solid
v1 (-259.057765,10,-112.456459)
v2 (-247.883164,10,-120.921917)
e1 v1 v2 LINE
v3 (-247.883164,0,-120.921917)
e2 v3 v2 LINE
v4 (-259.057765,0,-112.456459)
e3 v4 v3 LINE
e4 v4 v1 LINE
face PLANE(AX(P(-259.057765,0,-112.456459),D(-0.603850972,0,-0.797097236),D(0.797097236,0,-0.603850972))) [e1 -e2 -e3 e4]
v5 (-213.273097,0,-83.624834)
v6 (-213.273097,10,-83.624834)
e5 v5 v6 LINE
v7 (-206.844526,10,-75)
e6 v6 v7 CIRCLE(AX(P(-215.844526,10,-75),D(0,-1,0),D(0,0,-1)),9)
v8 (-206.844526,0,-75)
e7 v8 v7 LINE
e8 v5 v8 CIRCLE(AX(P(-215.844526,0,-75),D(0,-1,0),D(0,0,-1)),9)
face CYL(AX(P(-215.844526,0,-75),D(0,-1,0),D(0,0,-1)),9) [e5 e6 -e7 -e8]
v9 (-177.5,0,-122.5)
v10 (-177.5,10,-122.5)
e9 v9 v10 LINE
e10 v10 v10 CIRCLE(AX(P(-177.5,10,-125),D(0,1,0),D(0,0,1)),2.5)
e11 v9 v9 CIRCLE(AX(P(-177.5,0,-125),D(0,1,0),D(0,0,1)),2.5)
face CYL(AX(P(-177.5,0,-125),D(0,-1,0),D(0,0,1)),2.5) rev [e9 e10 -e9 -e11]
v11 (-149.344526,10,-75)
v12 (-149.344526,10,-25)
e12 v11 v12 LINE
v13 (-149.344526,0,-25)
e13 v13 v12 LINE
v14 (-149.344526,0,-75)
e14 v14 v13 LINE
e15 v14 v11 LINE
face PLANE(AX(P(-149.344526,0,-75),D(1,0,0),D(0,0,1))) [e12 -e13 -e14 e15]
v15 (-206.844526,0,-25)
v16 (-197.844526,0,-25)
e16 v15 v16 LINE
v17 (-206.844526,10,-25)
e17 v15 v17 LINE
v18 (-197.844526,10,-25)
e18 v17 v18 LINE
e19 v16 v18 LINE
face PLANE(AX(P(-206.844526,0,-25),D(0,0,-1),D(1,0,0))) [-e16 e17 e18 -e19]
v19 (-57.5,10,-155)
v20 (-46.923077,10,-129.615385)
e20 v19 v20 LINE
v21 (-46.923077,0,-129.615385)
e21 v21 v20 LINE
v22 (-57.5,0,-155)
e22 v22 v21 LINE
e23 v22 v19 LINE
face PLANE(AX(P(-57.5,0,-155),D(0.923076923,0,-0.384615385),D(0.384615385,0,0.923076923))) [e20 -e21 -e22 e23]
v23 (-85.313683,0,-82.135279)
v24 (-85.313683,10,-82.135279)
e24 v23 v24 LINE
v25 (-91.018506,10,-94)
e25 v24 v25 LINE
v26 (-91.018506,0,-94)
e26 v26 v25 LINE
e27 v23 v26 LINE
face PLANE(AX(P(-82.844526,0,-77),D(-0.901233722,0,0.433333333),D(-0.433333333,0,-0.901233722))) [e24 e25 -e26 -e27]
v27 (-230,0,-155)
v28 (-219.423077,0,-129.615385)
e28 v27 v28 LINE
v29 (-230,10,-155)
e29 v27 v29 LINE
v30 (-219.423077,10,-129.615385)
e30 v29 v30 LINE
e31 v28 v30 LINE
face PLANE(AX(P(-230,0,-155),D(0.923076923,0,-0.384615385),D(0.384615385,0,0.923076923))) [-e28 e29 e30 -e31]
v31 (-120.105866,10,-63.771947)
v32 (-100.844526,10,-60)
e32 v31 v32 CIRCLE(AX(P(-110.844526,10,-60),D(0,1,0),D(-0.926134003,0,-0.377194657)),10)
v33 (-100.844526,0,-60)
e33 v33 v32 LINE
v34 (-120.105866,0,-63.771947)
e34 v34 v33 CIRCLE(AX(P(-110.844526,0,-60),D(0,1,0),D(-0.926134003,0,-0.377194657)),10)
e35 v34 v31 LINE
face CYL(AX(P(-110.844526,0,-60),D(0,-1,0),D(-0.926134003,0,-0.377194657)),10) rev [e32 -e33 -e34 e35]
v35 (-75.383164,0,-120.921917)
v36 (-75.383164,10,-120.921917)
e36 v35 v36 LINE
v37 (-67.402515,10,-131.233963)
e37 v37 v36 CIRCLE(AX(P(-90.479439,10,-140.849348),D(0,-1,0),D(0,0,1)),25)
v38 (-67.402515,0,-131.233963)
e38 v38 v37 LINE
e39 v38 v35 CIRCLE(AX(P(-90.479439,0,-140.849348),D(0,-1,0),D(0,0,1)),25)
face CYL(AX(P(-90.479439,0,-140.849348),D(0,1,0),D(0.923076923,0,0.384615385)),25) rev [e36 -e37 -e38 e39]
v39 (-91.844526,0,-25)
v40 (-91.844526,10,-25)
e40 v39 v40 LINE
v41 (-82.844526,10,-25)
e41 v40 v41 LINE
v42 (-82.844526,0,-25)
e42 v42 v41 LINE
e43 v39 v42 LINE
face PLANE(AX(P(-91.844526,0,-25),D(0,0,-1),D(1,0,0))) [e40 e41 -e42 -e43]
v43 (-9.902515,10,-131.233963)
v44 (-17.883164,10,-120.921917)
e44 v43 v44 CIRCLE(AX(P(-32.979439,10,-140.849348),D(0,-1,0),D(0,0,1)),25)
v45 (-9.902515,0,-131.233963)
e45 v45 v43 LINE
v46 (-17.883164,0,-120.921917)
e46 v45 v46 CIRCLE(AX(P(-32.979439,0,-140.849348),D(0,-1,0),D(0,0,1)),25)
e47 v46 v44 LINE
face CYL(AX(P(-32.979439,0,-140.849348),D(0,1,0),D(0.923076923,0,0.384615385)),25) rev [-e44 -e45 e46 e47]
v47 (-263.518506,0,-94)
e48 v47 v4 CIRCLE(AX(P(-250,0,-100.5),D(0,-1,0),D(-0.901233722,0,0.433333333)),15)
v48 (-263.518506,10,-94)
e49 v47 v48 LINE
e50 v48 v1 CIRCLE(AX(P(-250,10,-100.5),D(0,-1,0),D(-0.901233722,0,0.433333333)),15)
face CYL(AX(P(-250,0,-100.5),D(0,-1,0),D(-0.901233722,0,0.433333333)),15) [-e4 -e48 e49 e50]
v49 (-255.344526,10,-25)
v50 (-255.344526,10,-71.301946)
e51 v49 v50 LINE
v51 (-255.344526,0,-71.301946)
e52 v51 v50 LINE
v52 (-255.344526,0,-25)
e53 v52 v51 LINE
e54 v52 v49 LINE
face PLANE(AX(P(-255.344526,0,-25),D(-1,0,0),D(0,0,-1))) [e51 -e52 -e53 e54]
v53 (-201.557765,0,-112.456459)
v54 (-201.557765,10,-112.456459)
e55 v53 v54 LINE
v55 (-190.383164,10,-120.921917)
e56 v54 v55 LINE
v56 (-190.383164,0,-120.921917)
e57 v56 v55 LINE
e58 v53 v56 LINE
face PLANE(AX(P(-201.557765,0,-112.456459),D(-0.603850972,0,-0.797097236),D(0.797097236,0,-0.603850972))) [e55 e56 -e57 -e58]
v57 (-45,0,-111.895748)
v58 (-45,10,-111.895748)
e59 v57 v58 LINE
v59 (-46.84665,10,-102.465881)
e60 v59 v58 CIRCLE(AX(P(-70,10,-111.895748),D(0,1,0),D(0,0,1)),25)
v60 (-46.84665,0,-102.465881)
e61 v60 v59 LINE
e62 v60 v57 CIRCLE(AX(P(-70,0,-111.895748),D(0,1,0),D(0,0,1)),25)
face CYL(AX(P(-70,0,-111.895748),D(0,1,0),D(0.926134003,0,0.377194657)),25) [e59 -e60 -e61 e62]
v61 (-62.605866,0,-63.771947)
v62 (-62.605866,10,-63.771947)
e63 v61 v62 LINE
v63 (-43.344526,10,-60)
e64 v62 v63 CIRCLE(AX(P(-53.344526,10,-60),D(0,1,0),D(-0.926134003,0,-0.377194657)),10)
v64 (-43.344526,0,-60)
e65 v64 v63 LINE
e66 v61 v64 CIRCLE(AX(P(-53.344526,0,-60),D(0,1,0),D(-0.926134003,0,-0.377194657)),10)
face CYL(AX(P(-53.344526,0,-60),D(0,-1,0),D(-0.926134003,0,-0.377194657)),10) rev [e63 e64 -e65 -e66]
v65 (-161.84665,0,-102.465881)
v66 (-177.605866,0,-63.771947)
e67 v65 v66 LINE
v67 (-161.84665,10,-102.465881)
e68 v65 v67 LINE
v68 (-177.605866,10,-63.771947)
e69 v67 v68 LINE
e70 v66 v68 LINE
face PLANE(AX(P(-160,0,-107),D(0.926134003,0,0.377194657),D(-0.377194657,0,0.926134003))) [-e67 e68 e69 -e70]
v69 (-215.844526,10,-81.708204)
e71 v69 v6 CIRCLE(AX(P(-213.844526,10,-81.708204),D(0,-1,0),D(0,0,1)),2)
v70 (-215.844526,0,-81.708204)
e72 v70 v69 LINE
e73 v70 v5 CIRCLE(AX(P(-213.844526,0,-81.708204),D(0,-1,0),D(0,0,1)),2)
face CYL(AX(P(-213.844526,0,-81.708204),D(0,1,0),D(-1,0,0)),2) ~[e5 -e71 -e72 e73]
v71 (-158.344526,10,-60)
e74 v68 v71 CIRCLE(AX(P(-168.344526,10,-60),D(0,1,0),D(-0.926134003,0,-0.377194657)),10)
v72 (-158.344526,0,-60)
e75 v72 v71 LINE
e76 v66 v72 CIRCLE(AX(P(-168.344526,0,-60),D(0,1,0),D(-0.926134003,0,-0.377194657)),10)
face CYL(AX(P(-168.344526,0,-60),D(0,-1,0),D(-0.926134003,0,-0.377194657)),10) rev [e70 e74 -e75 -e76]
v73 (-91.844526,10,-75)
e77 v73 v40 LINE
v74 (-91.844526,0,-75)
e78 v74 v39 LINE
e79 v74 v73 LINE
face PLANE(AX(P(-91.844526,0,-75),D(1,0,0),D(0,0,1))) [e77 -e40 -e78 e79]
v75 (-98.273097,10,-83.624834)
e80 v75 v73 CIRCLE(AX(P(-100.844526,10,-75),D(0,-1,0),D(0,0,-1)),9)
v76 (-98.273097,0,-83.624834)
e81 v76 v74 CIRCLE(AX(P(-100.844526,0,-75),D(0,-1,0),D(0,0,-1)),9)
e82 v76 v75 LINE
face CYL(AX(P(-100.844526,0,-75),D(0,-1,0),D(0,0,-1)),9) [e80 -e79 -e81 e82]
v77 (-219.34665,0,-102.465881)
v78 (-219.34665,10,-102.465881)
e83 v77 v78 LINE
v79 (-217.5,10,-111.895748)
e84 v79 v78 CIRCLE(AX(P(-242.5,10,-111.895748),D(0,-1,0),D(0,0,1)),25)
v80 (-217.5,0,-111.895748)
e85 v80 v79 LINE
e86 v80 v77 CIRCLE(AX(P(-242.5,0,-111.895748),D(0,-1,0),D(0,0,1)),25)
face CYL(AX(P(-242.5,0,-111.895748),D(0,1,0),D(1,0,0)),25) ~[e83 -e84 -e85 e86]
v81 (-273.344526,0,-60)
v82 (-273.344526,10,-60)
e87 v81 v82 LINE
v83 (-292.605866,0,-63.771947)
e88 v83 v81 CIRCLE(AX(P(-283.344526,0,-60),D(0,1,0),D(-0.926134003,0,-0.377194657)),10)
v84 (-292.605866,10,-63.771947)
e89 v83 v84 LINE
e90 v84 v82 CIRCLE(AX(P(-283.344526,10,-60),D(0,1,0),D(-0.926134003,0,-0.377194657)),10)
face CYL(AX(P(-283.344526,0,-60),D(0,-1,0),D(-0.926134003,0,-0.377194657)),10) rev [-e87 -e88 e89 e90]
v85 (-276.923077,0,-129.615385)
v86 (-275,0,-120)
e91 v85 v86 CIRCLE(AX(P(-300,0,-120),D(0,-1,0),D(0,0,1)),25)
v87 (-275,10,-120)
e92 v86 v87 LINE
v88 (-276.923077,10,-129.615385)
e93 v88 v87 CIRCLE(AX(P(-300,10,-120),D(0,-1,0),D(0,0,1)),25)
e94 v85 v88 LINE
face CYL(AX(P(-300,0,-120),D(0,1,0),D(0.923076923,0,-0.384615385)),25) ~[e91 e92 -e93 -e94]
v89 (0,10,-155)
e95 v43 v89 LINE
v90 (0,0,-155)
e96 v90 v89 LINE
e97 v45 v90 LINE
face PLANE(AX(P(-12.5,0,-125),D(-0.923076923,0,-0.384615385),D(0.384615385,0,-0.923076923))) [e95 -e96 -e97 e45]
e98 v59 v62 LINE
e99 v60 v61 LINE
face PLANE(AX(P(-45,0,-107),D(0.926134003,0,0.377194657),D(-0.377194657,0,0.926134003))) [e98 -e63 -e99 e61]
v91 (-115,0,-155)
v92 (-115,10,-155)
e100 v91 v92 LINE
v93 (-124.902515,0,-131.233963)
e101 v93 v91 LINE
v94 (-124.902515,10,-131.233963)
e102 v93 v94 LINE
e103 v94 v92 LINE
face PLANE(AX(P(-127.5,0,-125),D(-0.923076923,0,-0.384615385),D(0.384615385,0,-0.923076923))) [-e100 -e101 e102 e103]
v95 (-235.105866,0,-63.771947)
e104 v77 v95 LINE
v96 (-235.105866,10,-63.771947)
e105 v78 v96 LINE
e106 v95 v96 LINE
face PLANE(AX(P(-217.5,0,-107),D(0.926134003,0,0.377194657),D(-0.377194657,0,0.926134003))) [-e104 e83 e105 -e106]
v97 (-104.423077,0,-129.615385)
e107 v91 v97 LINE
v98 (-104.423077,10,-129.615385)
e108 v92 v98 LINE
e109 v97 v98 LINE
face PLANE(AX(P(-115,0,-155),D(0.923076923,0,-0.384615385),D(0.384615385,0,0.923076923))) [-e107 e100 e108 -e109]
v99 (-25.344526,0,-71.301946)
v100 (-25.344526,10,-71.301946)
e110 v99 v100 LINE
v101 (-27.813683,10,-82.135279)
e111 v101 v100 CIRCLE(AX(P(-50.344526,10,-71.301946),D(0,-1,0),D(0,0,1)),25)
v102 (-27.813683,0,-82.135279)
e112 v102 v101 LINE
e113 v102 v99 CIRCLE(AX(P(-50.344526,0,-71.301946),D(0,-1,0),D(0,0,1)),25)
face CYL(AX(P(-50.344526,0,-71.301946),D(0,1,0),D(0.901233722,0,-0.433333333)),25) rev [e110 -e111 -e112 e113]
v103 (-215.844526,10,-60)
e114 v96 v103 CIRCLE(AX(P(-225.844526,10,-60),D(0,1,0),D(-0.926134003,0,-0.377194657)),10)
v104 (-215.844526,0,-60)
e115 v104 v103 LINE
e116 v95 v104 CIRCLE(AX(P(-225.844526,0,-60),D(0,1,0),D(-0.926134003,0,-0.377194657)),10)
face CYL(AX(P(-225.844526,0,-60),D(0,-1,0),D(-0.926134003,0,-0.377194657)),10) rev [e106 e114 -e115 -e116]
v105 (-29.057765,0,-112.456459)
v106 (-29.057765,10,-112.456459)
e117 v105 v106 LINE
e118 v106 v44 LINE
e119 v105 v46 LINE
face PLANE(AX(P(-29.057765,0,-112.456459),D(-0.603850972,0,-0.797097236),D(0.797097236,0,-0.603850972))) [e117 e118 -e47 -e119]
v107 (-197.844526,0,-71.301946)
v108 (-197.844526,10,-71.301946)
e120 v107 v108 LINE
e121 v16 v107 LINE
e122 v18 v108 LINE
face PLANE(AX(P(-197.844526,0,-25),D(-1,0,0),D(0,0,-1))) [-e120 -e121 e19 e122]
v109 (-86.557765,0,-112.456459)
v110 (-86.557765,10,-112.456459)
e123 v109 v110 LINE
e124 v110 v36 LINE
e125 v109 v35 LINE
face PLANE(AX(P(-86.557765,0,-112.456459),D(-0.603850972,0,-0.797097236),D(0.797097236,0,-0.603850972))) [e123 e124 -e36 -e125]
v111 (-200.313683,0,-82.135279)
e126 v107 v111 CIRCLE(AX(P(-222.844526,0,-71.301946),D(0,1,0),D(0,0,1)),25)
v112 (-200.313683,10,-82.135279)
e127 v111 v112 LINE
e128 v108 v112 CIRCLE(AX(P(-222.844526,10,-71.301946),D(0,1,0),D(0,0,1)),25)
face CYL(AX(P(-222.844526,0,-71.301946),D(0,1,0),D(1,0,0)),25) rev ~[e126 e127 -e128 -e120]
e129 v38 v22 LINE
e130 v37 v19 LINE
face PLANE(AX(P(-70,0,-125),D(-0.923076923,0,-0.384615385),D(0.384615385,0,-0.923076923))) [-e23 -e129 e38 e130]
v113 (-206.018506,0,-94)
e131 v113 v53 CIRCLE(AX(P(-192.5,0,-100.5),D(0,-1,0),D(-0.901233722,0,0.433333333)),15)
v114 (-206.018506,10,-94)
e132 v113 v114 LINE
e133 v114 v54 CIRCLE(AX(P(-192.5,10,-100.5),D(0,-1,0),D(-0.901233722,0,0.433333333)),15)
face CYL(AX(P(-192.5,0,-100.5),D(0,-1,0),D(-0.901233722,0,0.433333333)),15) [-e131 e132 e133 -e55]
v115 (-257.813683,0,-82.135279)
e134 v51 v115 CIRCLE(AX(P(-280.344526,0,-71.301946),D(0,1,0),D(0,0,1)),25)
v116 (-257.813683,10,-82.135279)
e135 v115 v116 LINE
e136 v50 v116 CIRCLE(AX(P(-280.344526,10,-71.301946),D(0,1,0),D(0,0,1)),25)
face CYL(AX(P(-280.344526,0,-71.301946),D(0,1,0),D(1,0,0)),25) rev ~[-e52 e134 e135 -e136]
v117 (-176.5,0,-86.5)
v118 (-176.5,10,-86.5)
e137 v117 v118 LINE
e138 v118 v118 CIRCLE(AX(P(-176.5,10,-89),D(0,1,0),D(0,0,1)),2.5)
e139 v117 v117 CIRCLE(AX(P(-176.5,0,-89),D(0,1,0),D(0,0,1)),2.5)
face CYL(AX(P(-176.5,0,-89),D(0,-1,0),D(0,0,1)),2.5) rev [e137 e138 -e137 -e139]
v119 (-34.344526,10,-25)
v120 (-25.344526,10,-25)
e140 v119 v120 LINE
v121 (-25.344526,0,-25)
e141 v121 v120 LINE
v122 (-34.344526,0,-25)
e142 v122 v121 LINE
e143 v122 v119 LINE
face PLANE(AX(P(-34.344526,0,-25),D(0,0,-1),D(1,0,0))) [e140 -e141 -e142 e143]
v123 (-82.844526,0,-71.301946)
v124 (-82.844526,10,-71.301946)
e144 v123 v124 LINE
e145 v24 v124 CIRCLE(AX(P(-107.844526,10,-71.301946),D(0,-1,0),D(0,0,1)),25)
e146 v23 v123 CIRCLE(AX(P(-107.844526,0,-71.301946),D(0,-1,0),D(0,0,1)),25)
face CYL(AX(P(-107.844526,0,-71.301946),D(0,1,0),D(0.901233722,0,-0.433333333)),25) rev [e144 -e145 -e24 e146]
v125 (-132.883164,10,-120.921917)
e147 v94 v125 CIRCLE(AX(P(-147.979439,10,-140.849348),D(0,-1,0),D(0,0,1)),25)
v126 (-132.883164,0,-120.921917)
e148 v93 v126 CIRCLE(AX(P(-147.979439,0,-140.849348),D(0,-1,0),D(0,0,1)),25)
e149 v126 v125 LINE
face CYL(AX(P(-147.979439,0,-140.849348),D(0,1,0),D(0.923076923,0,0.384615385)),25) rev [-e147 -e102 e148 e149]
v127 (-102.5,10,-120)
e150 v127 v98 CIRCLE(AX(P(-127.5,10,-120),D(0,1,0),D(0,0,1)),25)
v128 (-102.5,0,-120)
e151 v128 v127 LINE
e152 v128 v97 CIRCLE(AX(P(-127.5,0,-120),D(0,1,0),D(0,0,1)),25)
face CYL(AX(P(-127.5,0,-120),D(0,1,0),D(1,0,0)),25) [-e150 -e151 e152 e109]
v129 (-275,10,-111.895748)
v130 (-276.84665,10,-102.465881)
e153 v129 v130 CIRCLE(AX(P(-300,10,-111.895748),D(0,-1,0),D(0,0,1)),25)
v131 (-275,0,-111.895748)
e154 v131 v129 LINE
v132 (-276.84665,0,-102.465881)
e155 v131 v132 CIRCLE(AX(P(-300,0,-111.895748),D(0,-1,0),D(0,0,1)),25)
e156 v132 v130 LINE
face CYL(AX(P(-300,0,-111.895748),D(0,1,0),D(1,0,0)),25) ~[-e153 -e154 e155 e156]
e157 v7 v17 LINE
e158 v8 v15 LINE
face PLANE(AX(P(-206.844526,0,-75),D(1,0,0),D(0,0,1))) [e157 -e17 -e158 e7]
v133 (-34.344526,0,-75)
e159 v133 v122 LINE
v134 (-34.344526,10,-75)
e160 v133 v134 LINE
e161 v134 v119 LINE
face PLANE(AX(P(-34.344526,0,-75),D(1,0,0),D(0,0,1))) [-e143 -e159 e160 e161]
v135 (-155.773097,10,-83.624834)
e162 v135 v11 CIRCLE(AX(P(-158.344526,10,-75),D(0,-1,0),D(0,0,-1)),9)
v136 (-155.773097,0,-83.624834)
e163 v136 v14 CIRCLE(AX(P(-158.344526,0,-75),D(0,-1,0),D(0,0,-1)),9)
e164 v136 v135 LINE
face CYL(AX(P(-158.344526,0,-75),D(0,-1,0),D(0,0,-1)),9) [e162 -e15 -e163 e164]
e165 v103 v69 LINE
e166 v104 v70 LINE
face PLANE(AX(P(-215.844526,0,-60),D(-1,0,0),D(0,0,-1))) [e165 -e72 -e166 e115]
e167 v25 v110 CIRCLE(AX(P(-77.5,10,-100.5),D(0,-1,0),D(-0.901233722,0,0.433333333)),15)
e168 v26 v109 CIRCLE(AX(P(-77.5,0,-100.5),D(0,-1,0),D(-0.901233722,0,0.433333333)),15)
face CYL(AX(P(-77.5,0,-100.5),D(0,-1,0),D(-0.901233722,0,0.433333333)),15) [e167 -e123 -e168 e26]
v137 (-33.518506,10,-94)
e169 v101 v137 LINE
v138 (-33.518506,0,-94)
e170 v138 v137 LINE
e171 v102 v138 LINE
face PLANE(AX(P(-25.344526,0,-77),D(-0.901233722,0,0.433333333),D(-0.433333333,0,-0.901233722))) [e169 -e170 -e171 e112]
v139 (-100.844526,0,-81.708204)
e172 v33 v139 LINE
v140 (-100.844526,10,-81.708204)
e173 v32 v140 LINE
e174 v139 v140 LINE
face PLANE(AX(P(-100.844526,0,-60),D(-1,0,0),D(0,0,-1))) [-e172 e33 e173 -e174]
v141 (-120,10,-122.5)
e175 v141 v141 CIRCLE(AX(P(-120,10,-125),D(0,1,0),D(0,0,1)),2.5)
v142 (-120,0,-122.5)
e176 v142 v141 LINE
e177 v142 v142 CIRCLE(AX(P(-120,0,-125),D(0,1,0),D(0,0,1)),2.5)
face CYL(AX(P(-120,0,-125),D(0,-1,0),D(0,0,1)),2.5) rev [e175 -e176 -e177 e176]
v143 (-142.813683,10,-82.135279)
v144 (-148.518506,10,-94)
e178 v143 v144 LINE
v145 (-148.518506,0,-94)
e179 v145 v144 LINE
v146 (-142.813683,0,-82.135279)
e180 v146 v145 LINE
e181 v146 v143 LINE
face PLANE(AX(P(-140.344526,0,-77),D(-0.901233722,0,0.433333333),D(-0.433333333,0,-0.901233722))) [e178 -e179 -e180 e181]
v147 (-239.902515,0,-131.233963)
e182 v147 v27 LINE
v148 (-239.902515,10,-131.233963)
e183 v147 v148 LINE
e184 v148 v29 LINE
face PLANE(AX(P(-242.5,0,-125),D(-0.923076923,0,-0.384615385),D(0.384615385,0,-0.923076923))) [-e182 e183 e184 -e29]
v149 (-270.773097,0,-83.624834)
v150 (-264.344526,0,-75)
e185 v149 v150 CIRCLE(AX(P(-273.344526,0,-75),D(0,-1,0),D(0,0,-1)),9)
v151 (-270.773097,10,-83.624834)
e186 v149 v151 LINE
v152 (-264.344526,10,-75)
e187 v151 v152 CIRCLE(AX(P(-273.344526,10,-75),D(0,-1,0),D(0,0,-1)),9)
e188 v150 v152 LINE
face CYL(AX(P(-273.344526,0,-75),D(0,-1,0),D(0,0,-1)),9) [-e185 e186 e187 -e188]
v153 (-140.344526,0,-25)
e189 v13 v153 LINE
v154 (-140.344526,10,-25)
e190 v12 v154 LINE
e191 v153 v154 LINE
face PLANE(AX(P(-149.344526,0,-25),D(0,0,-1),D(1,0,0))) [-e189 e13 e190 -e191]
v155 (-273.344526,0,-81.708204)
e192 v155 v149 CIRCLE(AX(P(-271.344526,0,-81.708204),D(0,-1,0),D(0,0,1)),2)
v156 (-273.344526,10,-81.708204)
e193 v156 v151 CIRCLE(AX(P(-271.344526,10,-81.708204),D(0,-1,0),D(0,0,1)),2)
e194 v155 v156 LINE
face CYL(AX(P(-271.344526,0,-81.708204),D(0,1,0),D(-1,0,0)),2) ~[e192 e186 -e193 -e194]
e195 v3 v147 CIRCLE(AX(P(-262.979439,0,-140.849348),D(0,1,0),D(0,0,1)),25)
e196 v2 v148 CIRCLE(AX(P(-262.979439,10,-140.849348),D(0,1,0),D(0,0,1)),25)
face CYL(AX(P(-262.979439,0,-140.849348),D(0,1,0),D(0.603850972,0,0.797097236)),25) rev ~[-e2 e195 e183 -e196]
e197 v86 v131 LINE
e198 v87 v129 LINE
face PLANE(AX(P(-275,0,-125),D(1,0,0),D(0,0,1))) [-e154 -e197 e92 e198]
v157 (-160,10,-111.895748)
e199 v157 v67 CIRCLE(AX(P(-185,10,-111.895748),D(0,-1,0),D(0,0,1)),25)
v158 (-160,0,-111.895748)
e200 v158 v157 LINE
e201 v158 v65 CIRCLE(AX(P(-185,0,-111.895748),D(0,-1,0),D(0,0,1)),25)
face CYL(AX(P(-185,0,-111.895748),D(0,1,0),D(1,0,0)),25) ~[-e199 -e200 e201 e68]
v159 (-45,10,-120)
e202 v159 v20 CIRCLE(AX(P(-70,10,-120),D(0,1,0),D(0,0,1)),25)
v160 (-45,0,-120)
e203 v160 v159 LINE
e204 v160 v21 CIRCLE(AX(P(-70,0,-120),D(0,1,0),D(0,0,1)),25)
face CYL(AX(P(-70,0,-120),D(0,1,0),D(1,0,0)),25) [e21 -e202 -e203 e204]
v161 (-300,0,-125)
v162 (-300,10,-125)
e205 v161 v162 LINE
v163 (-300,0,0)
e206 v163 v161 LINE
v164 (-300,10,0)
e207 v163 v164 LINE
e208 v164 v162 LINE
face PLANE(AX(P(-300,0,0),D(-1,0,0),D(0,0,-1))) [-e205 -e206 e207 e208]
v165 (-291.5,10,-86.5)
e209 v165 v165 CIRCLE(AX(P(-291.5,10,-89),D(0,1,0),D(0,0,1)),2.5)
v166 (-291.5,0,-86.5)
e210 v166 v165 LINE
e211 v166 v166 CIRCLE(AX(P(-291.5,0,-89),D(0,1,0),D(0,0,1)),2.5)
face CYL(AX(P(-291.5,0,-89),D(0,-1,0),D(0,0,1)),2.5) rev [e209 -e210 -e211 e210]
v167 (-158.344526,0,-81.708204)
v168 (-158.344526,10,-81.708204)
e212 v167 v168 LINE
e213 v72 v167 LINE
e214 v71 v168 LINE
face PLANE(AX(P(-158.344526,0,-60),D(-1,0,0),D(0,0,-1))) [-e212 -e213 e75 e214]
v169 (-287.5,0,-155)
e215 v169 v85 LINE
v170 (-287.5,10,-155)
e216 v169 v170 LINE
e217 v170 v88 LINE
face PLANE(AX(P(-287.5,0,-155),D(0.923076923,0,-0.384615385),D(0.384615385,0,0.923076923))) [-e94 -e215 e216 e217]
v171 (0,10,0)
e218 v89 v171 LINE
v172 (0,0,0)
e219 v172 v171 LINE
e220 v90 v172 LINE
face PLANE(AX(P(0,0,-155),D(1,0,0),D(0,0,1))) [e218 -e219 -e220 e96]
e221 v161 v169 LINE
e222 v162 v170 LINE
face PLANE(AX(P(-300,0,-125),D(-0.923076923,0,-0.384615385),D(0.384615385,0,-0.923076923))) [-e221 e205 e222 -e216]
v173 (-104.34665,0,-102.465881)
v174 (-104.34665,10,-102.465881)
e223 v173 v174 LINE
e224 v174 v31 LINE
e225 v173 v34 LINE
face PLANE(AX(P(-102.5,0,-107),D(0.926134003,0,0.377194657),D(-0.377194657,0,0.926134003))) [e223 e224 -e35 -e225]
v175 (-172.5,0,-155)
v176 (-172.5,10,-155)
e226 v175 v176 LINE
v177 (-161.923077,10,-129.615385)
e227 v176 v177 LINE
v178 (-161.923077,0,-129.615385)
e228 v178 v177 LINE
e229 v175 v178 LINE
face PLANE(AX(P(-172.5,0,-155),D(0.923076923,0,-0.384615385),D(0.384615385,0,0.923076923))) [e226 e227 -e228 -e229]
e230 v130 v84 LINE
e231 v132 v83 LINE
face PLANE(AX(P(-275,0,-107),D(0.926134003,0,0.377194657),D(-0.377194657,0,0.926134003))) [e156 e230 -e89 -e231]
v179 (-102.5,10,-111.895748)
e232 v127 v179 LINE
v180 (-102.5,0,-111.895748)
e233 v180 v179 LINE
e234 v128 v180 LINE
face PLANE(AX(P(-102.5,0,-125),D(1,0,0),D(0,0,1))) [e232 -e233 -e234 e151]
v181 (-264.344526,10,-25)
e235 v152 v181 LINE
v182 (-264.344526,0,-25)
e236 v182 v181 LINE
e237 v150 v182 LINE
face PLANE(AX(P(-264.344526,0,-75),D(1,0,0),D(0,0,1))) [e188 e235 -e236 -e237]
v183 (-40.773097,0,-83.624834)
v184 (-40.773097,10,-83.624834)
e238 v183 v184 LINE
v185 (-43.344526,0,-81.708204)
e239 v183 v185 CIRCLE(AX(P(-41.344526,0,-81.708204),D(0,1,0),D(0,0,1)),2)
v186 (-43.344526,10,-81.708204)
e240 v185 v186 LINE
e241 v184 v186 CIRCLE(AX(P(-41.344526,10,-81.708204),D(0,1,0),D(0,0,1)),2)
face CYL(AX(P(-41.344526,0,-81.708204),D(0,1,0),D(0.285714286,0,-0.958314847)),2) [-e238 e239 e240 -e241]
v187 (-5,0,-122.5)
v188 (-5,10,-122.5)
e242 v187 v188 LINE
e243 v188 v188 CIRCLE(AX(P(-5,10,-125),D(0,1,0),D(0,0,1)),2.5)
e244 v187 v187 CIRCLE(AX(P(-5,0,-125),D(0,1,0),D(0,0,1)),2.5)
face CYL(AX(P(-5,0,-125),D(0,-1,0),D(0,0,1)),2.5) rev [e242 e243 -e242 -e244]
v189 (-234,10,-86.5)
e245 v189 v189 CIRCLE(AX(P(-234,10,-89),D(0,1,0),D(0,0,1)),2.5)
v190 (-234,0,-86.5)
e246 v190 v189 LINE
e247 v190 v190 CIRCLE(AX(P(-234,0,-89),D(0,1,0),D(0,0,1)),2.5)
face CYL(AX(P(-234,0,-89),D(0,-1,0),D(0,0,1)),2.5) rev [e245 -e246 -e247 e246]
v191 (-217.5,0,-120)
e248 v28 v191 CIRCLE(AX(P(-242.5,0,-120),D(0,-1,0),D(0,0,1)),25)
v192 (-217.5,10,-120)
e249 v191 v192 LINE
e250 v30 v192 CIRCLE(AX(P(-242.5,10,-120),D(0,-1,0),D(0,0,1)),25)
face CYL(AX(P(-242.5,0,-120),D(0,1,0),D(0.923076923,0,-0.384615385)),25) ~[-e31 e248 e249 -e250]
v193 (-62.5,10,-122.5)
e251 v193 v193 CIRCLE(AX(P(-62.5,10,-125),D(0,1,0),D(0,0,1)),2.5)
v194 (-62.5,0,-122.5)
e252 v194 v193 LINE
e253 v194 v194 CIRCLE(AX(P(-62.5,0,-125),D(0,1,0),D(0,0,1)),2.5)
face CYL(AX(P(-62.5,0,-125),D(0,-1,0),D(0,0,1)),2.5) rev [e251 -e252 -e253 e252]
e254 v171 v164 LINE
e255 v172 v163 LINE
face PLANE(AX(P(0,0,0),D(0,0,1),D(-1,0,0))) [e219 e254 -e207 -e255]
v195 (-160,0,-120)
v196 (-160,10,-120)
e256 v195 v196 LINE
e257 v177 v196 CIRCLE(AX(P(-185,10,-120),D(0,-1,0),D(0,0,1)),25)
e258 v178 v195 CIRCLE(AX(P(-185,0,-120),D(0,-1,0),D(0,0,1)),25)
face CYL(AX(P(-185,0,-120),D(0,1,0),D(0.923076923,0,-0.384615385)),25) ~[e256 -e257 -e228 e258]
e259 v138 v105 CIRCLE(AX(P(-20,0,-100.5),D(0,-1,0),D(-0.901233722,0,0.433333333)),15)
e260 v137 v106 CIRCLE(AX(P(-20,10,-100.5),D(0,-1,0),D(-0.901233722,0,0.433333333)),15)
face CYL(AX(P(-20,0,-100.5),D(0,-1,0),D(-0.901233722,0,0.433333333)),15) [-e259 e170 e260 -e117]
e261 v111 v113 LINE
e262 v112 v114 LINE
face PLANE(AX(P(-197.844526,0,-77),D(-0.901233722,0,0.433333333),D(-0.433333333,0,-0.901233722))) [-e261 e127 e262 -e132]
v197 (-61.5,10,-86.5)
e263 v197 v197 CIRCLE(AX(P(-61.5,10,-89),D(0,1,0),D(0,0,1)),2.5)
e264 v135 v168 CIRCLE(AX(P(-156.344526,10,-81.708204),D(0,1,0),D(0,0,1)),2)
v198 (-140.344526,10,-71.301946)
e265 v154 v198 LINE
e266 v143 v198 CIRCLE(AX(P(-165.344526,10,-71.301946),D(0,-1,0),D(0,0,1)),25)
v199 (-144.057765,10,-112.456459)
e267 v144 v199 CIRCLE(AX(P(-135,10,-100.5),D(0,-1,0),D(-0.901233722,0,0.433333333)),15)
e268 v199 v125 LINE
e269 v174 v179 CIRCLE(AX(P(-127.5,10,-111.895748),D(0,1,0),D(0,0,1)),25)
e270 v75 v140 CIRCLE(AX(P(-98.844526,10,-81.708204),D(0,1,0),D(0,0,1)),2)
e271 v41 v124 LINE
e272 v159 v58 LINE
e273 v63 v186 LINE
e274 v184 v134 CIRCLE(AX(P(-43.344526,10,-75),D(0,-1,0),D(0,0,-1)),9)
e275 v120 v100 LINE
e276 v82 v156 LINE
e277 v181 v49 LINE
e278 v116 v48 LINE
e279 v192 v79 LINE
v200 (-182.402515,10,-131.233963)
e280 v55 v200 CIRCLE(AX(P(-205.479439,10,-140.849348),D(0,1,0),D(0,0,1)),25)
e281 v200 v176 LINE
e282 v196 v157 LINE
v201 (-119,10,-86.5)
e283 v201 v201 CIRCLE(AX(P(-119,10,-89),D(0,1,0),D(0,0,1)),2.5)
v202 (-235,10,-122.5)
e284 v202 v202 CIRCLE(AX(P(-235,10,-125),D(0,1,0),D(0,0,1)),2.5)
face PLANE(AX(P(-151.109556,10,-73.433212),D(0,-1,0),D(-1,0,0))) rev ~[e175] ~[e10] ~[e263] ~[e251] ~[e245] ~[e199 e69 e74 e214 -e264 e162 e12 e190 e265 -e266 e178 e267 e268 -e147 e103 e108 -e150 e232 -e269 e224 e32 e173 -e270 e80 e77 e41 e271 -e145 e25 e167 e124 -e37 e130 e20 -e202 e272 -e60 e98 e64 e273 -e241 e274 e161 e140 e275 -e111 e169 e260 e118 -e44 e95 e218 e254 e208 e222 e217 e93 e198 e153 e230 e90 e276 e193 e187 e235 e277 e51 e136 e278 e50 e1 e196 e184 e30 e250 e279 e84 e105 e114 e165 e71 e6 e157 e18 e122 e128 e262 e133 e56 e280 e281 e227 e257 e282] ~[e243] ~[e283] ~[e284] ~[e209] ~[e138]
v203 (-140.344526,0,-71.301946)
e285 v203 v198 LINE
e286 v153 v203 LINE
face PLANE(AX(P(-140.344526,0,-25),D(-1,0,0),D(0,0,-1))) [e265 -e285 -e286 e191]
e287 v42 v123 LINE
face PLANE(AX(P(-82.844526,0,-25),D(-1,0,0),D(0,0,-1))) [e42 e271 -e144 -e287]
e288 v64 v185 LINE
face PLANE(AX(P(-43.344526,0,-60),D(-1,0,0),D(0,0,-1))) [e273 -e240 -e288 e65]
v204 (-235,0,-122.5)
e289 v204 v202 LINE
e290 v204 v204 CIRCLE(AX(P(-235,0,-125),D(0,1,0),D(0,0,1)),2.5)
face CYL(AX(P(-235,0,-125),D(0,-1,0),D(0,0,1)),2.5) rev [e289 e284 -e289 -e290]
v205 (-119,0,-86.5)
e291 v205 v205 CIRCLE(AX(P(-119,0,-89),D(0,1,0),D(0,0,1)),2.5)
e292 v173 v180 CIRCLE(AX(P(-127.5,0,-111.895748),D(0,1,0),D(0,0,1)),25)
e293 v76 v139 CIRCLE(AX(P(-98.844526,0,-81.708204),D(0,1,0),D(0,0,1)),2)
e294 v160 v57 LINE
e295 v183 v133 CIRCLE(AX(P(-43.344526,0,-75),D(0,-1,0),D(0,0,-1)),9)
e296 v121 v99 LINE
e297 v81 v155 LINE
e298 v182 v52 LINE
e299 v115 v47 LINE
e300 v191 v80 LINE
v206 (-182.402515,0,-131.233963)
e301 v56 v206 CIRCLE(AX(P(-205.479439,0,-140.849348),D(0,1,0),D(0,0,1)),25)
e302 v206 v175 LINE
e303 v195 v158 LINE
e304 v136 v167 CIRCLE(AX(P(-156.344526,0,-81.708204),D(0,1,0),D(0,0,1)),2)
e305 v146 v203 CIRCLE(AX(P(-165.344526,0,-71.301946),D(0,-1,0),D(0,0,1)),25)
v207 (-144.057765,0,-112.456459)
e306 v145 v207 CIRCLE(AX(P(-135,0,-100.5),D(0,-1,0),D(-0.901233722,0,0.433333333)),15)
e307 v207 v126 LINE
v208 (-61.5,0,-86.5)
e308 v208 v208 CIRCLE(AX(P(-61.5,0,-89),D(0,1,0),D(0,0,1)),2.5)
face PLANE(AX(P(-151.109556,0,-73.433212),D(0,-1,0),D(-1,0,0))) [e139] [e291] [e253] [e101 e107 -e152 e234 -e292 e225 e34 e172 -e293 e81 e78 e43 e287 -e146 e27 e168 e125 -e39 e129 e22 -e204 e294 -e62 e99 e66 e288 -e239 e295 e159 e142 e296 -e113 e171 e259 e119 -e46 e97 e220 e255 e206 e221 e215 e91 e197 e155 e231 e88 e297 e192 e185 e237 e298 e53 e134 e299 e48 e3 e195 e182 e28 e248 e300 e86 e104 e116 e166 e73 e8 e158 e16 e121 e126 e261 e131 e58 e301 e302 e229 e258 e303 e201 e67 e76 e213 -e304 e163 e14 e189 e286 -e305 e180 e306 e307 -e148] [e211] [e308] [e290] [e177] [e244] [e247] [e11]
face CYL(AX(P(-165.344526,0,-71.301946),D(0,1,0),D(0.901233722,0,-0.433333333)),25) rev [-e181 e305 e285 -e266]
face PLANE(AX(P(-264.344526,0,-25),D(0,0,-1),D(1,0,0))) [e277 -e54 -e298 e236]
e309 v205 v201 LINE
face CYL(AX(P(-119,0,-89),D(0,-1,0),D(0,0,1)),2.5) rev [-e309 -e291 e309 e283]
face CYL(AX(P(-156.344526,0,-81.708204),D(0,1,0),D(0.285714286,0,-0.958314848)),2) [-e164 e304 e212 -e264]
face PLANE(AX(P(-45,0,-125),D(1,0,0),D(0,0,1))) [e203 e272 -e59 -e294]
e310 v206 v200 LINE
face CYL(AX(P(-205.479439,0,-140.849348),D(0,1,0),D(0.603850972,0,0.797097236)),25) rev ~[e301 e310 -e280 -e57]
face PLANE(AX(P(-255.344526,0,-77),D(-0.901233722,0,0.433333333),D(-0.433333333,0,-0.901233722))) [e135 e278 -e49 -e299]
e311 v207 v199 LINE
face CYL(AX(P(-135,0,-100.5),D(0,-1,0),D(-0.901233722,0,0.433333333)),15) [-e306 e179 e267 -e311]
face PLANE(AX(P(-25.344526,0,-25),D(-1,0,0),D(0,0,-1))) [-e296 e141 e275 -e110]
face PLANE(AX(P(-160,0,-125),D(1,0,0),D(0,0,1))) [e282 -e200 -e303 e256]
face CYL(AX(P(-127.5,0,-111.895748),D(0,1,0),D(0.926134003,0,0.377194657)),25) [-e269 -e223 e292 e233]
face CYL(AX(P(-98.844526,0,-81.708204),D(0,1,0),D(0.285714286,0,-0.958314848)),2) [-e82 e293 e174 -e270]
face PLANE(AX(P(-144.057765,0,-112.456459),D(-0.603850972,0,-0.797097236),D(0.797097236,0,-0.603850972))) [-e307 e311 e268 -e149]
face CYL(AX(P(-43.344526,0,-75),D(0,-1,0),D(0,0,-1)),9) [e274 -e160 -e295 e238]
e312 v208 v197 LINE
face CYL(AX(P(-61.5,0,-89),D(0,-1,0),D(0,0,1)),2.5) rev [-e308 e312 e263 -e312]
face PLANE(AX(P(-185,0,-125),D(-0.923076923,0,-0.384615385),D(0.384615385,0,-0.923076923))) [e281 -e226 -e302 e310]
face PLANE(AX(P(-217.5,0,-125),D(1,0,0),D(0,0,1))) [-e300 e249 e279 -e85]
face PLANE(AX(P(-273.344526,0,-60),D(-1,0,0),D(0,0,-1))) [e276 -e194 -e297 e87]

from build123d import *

# Parameters (mm, degrees)
SKETCH1_R           = 2.5
BOSS_EXTRUDE1_DEPTH = 10
FILLET1_R           = 25
FILLET2_R           = 2


with BuildPart() as part:
    # Sketch1 → Boss-Extrude1 (new body)
    with BuildSketch(Plane(origin=(0, 0, 0), x_dir=(1, 0, 0), z_dir=(0, 1, 0))):
        with BuildLine():
            Line((0, 0), (-300, 0))
            Line((-300, 0), (-300, 125))
            Line((-300, 125), (-287.5, 155))
            Line((-287.5, 155), (-275, 125))
            Line((-275, 125), (-275, 107))
            Line((-275, 107), (-292.60586559, 63.771946566))
            ThreePointArc((-292.60586559, 63.771946566), (-285.266321562, 50.186402284), (-273.344525562, 60))
            Line((-273.344525562, 60), (-273.344525562, 84))
            ThreePointArc((-273.344525562, 84), (-266.980564532, 81.363961031), (-264.344525562, 75))
            Line((-264.344525562, 75), (-264.344525562, 25))
            Line((-264.344525562, 25), (-255.344525562, 25))
            Line((-255.344525562, 25), (-255.344525563, 77))
            Line((-255.344525563, 77), (-263.518505835, 94))
            ThreePointArc((-263.518505835, 94), (-264.580199309, 104.023888208), (-259.057764575, 112.456458543))
            Line((-259.057764575, 112.456458543), (-242.5, 125))
            Line((-242.5, 125), (-230, 155))
            Line((-230, 155), (-217.5, 125))
            Line((-217.5, 125), (-217.5, 107))
            Line((-217.5, 107), (-235.10586559, 63.771946566))
            ThreePointArc((-235.10586559, 63.771946566), (-227.766321562, 50.186402284), (-215.844525562, 60))
            Line((-215.844525562, 60), (-215.844525562, 84))
            ThreePointArc((-215.844525562, 84), (-209.480564532, 81.363961031), (-206.844525562, 75))
            Line((-206.844525562, 75), (-206.844525562, 25))
            Line((-206.844525562, 25), (-197.844525562, 25))
            Line((-197.844525562, 25), (-197.844525563, 77))
            Line((-197.844525563, 77), (-206.018505835, 94))
            ThreePointArc((-206.018505835, 94), (-207.080199309, 104.023888208), (-201.557764575, 112.456458543))
            Line((-201.557764575, 112.456458543), (-185, 125))
            Line((-185, 125), (-172.5, 155))
            Line((-172.5, 155), (-160, 125))
            Line((-160, 125), (-160, 107))
            Line((-160, 107), (-177.60586559, 63.771946566))
            ThreePointArc((-177.60586559, 63.771946566), (-170.266321562, 50.186402284), (-158.344525563, 60))
            Line((-158.344525563, 60), (-158.344525563, 84))
            ThreePointArc((-158.344525563, 84), (-151.980564532, 81.363961031), (-149.344525563, 75))
            Line((-149.344525563, 75), (-149.344525563, 25))
            Line((-149.344525563, 25), (-140.344525563, 25))
            Line((-140.344525563, 25), (-140.344525563, 77))
            Line((-140.344525563, 77), (-148.518505835, 94))
            ThreePointArc((-148.518505835, 94), (-149.580199309, 104.023888208), (-144.057764575, 112.456458543))
            Line((-144.057764575, 112.456458543), (-127.5, 125))
            Line((-127.5, 125), (-115, 155))
            Line((-115, 155), (-102.5, 125))
            Line((-102.5, 125), (-102.5, 107))
            Line((-102.5, 107), (-120.10586559, 63.771946566))
            ThreePointArc((-120.10586559, 63.771946566), (-112.766321562, 50.186402284), (-100.844525563, 60))
            Line((-100.844525563, 60), (-100.844525563, 84))
            ThreePointArc((-100.844525563, 84), (-94.480564532, 81.363961031), (-91.844525563, 75))
            Line((-91.844525563, 75), (-91.844525563, 25))
            Line((-91.844525563, 25), (-82.844525563, 25))
            Line((-82.844525563, 25), (-82.844525563, 77))
            Line((-82.844525563, 77), (-91.018505835, 94))
            ThreePointArc((-91.018505835, 94), (-92.080199309, 104.023888208), (-86.557764575, 112.456458543))
            Line((-86.557764575, 112.456458543), (-70, 125))
            Line((-70, 125), (-57.5, 155))
            Line((-57.5, 155), (-45, 125))
            Line((-45, 125), (-45, 107))
            Line((-45, 107), (-62.60586559, 63.771946566))
            ThreePointArc((-62.60586559, 63.771946566), (-55.266321562, 50.186402284), (-43.344525562, 60))
            Line((-43.344525562, 60), (-43.344525562, 84))
            ThreePointArc((-43.344525562, 84), (-36.980564532, 81.363961031), (-34.344525562, 75))
            Line((-34.344525562, 75), (-34.344525562, 25))
            Line((-34.344525562, 25), (-25.344525562, 25))
            Line((-25.344525562, 25), (-25.344525563, 77))
            Line((-25.344525563, 77), (-33.518505835, 94))
            ThreePointArc((-33.518505835, 94), (-34.580199309, 104.023888208), (-29.057764575, 112.456458543))
            Line((-29.057764575, 112.456458543), (-12.5, 125))
            Line((-12.5, 125), (0, 155))
            Line((0, 155), (0, 0))
        make_face()
        with Locations(Location((-5, 125, 0), (0, 0, 270))):
            Circle(SKETCH1_R, mode=Mode.SUBTRACT)
        with Locations(Location((-61.5, 89, 0), (0, 0, 270))):
            Circle(SKETCH1_R, mode=Mode.SUBTRACT)
        with Locations(Location((-62.5, 125, 0), (0, 0, 270))):
            Circle(SKETCH1_R, mode=Mode.SUBTRACT)
        with Locations(Location((-119, 89, 0), (0, 0, 270))):
            Circle(SKETCH1_R, mode=Mode.SUBTRACT)
        with Locations(Location((-120, 125, 0), (0, 0, 270))):
            Circle(SKETCH1_R, mode=Mode.SUBTRACT)
        with Locations(Location((-176.5, 89, 0), (0, 0, 270))):
            Circle(SKETCH1_R, mode=Mode.SUBTRACT)
        with Locations(Location((-177.5, 125, 0), (0, 0, 270))):
            Circle(SKETCH1_R, mode=Mode.SUBTRACT)
        with Locations(Location((-234, 89, 0), (0, 0, 270))):
            Circle(SKETCH1_R, mode=Mode.SUBTRACT)
        with Locations(Location((-235, 125, 0), (0, 0, 270))):
            Circle(SKETCH1_R, mode=Mode.SUBTRACT)
        with Locations(Location((-291.5, 89, 0), (0, 0, 270))):
            Circle(SKETCH1_R, mode=Mode.SUBTRACT)
    extrude(amount=BOSS_EXTRUDE1_DEPTH)

    # Fillet1
    fillet1_edges = [part.edges().sort_by_distance(p)[0] for p in [
        (-275, 5, -125),
        (-275, 5, -107),
        (-255.344525563, 5, -77),
        (-242.5, 5, -125),
        (-217.5, 5, -125),
        (-217.5, 5, -107),
        (-197.844525563, 5, -77),
        (-185, 5, -125),
        (-160, 5, -125),
        (-160, 5, -107),
        (-140.344525563, 5, -77),
        (-127.5, 5, -125),
        (-102.5, 5, -125),
        (-102.5, 5, -107),
        (-82.844525563, 5, -77),
        (-70, 5, -125),
        (-45, 5, -125),
        (-45, 5, -107),
        (-25.344525563, 5, -77),
        (-12.5, 5, -125),
    ]]
    fillet(fillet1_edges, radius=FILLET1_R)

    # Fillet2
    fillet2_edges = [part.edges().sort_by_distance(p)[0] for p in [
        (-273.344525562, 5, -84),
        (-215.844525562, 5, -84),
        (-158.344525563, 5, -84),
        (-100.844525563, 5, -84),
        (-43.344525562, 5, -84),
    ]]
    fillet(fillet2_edges, radius=FILLET2_R)


solid = part.part
